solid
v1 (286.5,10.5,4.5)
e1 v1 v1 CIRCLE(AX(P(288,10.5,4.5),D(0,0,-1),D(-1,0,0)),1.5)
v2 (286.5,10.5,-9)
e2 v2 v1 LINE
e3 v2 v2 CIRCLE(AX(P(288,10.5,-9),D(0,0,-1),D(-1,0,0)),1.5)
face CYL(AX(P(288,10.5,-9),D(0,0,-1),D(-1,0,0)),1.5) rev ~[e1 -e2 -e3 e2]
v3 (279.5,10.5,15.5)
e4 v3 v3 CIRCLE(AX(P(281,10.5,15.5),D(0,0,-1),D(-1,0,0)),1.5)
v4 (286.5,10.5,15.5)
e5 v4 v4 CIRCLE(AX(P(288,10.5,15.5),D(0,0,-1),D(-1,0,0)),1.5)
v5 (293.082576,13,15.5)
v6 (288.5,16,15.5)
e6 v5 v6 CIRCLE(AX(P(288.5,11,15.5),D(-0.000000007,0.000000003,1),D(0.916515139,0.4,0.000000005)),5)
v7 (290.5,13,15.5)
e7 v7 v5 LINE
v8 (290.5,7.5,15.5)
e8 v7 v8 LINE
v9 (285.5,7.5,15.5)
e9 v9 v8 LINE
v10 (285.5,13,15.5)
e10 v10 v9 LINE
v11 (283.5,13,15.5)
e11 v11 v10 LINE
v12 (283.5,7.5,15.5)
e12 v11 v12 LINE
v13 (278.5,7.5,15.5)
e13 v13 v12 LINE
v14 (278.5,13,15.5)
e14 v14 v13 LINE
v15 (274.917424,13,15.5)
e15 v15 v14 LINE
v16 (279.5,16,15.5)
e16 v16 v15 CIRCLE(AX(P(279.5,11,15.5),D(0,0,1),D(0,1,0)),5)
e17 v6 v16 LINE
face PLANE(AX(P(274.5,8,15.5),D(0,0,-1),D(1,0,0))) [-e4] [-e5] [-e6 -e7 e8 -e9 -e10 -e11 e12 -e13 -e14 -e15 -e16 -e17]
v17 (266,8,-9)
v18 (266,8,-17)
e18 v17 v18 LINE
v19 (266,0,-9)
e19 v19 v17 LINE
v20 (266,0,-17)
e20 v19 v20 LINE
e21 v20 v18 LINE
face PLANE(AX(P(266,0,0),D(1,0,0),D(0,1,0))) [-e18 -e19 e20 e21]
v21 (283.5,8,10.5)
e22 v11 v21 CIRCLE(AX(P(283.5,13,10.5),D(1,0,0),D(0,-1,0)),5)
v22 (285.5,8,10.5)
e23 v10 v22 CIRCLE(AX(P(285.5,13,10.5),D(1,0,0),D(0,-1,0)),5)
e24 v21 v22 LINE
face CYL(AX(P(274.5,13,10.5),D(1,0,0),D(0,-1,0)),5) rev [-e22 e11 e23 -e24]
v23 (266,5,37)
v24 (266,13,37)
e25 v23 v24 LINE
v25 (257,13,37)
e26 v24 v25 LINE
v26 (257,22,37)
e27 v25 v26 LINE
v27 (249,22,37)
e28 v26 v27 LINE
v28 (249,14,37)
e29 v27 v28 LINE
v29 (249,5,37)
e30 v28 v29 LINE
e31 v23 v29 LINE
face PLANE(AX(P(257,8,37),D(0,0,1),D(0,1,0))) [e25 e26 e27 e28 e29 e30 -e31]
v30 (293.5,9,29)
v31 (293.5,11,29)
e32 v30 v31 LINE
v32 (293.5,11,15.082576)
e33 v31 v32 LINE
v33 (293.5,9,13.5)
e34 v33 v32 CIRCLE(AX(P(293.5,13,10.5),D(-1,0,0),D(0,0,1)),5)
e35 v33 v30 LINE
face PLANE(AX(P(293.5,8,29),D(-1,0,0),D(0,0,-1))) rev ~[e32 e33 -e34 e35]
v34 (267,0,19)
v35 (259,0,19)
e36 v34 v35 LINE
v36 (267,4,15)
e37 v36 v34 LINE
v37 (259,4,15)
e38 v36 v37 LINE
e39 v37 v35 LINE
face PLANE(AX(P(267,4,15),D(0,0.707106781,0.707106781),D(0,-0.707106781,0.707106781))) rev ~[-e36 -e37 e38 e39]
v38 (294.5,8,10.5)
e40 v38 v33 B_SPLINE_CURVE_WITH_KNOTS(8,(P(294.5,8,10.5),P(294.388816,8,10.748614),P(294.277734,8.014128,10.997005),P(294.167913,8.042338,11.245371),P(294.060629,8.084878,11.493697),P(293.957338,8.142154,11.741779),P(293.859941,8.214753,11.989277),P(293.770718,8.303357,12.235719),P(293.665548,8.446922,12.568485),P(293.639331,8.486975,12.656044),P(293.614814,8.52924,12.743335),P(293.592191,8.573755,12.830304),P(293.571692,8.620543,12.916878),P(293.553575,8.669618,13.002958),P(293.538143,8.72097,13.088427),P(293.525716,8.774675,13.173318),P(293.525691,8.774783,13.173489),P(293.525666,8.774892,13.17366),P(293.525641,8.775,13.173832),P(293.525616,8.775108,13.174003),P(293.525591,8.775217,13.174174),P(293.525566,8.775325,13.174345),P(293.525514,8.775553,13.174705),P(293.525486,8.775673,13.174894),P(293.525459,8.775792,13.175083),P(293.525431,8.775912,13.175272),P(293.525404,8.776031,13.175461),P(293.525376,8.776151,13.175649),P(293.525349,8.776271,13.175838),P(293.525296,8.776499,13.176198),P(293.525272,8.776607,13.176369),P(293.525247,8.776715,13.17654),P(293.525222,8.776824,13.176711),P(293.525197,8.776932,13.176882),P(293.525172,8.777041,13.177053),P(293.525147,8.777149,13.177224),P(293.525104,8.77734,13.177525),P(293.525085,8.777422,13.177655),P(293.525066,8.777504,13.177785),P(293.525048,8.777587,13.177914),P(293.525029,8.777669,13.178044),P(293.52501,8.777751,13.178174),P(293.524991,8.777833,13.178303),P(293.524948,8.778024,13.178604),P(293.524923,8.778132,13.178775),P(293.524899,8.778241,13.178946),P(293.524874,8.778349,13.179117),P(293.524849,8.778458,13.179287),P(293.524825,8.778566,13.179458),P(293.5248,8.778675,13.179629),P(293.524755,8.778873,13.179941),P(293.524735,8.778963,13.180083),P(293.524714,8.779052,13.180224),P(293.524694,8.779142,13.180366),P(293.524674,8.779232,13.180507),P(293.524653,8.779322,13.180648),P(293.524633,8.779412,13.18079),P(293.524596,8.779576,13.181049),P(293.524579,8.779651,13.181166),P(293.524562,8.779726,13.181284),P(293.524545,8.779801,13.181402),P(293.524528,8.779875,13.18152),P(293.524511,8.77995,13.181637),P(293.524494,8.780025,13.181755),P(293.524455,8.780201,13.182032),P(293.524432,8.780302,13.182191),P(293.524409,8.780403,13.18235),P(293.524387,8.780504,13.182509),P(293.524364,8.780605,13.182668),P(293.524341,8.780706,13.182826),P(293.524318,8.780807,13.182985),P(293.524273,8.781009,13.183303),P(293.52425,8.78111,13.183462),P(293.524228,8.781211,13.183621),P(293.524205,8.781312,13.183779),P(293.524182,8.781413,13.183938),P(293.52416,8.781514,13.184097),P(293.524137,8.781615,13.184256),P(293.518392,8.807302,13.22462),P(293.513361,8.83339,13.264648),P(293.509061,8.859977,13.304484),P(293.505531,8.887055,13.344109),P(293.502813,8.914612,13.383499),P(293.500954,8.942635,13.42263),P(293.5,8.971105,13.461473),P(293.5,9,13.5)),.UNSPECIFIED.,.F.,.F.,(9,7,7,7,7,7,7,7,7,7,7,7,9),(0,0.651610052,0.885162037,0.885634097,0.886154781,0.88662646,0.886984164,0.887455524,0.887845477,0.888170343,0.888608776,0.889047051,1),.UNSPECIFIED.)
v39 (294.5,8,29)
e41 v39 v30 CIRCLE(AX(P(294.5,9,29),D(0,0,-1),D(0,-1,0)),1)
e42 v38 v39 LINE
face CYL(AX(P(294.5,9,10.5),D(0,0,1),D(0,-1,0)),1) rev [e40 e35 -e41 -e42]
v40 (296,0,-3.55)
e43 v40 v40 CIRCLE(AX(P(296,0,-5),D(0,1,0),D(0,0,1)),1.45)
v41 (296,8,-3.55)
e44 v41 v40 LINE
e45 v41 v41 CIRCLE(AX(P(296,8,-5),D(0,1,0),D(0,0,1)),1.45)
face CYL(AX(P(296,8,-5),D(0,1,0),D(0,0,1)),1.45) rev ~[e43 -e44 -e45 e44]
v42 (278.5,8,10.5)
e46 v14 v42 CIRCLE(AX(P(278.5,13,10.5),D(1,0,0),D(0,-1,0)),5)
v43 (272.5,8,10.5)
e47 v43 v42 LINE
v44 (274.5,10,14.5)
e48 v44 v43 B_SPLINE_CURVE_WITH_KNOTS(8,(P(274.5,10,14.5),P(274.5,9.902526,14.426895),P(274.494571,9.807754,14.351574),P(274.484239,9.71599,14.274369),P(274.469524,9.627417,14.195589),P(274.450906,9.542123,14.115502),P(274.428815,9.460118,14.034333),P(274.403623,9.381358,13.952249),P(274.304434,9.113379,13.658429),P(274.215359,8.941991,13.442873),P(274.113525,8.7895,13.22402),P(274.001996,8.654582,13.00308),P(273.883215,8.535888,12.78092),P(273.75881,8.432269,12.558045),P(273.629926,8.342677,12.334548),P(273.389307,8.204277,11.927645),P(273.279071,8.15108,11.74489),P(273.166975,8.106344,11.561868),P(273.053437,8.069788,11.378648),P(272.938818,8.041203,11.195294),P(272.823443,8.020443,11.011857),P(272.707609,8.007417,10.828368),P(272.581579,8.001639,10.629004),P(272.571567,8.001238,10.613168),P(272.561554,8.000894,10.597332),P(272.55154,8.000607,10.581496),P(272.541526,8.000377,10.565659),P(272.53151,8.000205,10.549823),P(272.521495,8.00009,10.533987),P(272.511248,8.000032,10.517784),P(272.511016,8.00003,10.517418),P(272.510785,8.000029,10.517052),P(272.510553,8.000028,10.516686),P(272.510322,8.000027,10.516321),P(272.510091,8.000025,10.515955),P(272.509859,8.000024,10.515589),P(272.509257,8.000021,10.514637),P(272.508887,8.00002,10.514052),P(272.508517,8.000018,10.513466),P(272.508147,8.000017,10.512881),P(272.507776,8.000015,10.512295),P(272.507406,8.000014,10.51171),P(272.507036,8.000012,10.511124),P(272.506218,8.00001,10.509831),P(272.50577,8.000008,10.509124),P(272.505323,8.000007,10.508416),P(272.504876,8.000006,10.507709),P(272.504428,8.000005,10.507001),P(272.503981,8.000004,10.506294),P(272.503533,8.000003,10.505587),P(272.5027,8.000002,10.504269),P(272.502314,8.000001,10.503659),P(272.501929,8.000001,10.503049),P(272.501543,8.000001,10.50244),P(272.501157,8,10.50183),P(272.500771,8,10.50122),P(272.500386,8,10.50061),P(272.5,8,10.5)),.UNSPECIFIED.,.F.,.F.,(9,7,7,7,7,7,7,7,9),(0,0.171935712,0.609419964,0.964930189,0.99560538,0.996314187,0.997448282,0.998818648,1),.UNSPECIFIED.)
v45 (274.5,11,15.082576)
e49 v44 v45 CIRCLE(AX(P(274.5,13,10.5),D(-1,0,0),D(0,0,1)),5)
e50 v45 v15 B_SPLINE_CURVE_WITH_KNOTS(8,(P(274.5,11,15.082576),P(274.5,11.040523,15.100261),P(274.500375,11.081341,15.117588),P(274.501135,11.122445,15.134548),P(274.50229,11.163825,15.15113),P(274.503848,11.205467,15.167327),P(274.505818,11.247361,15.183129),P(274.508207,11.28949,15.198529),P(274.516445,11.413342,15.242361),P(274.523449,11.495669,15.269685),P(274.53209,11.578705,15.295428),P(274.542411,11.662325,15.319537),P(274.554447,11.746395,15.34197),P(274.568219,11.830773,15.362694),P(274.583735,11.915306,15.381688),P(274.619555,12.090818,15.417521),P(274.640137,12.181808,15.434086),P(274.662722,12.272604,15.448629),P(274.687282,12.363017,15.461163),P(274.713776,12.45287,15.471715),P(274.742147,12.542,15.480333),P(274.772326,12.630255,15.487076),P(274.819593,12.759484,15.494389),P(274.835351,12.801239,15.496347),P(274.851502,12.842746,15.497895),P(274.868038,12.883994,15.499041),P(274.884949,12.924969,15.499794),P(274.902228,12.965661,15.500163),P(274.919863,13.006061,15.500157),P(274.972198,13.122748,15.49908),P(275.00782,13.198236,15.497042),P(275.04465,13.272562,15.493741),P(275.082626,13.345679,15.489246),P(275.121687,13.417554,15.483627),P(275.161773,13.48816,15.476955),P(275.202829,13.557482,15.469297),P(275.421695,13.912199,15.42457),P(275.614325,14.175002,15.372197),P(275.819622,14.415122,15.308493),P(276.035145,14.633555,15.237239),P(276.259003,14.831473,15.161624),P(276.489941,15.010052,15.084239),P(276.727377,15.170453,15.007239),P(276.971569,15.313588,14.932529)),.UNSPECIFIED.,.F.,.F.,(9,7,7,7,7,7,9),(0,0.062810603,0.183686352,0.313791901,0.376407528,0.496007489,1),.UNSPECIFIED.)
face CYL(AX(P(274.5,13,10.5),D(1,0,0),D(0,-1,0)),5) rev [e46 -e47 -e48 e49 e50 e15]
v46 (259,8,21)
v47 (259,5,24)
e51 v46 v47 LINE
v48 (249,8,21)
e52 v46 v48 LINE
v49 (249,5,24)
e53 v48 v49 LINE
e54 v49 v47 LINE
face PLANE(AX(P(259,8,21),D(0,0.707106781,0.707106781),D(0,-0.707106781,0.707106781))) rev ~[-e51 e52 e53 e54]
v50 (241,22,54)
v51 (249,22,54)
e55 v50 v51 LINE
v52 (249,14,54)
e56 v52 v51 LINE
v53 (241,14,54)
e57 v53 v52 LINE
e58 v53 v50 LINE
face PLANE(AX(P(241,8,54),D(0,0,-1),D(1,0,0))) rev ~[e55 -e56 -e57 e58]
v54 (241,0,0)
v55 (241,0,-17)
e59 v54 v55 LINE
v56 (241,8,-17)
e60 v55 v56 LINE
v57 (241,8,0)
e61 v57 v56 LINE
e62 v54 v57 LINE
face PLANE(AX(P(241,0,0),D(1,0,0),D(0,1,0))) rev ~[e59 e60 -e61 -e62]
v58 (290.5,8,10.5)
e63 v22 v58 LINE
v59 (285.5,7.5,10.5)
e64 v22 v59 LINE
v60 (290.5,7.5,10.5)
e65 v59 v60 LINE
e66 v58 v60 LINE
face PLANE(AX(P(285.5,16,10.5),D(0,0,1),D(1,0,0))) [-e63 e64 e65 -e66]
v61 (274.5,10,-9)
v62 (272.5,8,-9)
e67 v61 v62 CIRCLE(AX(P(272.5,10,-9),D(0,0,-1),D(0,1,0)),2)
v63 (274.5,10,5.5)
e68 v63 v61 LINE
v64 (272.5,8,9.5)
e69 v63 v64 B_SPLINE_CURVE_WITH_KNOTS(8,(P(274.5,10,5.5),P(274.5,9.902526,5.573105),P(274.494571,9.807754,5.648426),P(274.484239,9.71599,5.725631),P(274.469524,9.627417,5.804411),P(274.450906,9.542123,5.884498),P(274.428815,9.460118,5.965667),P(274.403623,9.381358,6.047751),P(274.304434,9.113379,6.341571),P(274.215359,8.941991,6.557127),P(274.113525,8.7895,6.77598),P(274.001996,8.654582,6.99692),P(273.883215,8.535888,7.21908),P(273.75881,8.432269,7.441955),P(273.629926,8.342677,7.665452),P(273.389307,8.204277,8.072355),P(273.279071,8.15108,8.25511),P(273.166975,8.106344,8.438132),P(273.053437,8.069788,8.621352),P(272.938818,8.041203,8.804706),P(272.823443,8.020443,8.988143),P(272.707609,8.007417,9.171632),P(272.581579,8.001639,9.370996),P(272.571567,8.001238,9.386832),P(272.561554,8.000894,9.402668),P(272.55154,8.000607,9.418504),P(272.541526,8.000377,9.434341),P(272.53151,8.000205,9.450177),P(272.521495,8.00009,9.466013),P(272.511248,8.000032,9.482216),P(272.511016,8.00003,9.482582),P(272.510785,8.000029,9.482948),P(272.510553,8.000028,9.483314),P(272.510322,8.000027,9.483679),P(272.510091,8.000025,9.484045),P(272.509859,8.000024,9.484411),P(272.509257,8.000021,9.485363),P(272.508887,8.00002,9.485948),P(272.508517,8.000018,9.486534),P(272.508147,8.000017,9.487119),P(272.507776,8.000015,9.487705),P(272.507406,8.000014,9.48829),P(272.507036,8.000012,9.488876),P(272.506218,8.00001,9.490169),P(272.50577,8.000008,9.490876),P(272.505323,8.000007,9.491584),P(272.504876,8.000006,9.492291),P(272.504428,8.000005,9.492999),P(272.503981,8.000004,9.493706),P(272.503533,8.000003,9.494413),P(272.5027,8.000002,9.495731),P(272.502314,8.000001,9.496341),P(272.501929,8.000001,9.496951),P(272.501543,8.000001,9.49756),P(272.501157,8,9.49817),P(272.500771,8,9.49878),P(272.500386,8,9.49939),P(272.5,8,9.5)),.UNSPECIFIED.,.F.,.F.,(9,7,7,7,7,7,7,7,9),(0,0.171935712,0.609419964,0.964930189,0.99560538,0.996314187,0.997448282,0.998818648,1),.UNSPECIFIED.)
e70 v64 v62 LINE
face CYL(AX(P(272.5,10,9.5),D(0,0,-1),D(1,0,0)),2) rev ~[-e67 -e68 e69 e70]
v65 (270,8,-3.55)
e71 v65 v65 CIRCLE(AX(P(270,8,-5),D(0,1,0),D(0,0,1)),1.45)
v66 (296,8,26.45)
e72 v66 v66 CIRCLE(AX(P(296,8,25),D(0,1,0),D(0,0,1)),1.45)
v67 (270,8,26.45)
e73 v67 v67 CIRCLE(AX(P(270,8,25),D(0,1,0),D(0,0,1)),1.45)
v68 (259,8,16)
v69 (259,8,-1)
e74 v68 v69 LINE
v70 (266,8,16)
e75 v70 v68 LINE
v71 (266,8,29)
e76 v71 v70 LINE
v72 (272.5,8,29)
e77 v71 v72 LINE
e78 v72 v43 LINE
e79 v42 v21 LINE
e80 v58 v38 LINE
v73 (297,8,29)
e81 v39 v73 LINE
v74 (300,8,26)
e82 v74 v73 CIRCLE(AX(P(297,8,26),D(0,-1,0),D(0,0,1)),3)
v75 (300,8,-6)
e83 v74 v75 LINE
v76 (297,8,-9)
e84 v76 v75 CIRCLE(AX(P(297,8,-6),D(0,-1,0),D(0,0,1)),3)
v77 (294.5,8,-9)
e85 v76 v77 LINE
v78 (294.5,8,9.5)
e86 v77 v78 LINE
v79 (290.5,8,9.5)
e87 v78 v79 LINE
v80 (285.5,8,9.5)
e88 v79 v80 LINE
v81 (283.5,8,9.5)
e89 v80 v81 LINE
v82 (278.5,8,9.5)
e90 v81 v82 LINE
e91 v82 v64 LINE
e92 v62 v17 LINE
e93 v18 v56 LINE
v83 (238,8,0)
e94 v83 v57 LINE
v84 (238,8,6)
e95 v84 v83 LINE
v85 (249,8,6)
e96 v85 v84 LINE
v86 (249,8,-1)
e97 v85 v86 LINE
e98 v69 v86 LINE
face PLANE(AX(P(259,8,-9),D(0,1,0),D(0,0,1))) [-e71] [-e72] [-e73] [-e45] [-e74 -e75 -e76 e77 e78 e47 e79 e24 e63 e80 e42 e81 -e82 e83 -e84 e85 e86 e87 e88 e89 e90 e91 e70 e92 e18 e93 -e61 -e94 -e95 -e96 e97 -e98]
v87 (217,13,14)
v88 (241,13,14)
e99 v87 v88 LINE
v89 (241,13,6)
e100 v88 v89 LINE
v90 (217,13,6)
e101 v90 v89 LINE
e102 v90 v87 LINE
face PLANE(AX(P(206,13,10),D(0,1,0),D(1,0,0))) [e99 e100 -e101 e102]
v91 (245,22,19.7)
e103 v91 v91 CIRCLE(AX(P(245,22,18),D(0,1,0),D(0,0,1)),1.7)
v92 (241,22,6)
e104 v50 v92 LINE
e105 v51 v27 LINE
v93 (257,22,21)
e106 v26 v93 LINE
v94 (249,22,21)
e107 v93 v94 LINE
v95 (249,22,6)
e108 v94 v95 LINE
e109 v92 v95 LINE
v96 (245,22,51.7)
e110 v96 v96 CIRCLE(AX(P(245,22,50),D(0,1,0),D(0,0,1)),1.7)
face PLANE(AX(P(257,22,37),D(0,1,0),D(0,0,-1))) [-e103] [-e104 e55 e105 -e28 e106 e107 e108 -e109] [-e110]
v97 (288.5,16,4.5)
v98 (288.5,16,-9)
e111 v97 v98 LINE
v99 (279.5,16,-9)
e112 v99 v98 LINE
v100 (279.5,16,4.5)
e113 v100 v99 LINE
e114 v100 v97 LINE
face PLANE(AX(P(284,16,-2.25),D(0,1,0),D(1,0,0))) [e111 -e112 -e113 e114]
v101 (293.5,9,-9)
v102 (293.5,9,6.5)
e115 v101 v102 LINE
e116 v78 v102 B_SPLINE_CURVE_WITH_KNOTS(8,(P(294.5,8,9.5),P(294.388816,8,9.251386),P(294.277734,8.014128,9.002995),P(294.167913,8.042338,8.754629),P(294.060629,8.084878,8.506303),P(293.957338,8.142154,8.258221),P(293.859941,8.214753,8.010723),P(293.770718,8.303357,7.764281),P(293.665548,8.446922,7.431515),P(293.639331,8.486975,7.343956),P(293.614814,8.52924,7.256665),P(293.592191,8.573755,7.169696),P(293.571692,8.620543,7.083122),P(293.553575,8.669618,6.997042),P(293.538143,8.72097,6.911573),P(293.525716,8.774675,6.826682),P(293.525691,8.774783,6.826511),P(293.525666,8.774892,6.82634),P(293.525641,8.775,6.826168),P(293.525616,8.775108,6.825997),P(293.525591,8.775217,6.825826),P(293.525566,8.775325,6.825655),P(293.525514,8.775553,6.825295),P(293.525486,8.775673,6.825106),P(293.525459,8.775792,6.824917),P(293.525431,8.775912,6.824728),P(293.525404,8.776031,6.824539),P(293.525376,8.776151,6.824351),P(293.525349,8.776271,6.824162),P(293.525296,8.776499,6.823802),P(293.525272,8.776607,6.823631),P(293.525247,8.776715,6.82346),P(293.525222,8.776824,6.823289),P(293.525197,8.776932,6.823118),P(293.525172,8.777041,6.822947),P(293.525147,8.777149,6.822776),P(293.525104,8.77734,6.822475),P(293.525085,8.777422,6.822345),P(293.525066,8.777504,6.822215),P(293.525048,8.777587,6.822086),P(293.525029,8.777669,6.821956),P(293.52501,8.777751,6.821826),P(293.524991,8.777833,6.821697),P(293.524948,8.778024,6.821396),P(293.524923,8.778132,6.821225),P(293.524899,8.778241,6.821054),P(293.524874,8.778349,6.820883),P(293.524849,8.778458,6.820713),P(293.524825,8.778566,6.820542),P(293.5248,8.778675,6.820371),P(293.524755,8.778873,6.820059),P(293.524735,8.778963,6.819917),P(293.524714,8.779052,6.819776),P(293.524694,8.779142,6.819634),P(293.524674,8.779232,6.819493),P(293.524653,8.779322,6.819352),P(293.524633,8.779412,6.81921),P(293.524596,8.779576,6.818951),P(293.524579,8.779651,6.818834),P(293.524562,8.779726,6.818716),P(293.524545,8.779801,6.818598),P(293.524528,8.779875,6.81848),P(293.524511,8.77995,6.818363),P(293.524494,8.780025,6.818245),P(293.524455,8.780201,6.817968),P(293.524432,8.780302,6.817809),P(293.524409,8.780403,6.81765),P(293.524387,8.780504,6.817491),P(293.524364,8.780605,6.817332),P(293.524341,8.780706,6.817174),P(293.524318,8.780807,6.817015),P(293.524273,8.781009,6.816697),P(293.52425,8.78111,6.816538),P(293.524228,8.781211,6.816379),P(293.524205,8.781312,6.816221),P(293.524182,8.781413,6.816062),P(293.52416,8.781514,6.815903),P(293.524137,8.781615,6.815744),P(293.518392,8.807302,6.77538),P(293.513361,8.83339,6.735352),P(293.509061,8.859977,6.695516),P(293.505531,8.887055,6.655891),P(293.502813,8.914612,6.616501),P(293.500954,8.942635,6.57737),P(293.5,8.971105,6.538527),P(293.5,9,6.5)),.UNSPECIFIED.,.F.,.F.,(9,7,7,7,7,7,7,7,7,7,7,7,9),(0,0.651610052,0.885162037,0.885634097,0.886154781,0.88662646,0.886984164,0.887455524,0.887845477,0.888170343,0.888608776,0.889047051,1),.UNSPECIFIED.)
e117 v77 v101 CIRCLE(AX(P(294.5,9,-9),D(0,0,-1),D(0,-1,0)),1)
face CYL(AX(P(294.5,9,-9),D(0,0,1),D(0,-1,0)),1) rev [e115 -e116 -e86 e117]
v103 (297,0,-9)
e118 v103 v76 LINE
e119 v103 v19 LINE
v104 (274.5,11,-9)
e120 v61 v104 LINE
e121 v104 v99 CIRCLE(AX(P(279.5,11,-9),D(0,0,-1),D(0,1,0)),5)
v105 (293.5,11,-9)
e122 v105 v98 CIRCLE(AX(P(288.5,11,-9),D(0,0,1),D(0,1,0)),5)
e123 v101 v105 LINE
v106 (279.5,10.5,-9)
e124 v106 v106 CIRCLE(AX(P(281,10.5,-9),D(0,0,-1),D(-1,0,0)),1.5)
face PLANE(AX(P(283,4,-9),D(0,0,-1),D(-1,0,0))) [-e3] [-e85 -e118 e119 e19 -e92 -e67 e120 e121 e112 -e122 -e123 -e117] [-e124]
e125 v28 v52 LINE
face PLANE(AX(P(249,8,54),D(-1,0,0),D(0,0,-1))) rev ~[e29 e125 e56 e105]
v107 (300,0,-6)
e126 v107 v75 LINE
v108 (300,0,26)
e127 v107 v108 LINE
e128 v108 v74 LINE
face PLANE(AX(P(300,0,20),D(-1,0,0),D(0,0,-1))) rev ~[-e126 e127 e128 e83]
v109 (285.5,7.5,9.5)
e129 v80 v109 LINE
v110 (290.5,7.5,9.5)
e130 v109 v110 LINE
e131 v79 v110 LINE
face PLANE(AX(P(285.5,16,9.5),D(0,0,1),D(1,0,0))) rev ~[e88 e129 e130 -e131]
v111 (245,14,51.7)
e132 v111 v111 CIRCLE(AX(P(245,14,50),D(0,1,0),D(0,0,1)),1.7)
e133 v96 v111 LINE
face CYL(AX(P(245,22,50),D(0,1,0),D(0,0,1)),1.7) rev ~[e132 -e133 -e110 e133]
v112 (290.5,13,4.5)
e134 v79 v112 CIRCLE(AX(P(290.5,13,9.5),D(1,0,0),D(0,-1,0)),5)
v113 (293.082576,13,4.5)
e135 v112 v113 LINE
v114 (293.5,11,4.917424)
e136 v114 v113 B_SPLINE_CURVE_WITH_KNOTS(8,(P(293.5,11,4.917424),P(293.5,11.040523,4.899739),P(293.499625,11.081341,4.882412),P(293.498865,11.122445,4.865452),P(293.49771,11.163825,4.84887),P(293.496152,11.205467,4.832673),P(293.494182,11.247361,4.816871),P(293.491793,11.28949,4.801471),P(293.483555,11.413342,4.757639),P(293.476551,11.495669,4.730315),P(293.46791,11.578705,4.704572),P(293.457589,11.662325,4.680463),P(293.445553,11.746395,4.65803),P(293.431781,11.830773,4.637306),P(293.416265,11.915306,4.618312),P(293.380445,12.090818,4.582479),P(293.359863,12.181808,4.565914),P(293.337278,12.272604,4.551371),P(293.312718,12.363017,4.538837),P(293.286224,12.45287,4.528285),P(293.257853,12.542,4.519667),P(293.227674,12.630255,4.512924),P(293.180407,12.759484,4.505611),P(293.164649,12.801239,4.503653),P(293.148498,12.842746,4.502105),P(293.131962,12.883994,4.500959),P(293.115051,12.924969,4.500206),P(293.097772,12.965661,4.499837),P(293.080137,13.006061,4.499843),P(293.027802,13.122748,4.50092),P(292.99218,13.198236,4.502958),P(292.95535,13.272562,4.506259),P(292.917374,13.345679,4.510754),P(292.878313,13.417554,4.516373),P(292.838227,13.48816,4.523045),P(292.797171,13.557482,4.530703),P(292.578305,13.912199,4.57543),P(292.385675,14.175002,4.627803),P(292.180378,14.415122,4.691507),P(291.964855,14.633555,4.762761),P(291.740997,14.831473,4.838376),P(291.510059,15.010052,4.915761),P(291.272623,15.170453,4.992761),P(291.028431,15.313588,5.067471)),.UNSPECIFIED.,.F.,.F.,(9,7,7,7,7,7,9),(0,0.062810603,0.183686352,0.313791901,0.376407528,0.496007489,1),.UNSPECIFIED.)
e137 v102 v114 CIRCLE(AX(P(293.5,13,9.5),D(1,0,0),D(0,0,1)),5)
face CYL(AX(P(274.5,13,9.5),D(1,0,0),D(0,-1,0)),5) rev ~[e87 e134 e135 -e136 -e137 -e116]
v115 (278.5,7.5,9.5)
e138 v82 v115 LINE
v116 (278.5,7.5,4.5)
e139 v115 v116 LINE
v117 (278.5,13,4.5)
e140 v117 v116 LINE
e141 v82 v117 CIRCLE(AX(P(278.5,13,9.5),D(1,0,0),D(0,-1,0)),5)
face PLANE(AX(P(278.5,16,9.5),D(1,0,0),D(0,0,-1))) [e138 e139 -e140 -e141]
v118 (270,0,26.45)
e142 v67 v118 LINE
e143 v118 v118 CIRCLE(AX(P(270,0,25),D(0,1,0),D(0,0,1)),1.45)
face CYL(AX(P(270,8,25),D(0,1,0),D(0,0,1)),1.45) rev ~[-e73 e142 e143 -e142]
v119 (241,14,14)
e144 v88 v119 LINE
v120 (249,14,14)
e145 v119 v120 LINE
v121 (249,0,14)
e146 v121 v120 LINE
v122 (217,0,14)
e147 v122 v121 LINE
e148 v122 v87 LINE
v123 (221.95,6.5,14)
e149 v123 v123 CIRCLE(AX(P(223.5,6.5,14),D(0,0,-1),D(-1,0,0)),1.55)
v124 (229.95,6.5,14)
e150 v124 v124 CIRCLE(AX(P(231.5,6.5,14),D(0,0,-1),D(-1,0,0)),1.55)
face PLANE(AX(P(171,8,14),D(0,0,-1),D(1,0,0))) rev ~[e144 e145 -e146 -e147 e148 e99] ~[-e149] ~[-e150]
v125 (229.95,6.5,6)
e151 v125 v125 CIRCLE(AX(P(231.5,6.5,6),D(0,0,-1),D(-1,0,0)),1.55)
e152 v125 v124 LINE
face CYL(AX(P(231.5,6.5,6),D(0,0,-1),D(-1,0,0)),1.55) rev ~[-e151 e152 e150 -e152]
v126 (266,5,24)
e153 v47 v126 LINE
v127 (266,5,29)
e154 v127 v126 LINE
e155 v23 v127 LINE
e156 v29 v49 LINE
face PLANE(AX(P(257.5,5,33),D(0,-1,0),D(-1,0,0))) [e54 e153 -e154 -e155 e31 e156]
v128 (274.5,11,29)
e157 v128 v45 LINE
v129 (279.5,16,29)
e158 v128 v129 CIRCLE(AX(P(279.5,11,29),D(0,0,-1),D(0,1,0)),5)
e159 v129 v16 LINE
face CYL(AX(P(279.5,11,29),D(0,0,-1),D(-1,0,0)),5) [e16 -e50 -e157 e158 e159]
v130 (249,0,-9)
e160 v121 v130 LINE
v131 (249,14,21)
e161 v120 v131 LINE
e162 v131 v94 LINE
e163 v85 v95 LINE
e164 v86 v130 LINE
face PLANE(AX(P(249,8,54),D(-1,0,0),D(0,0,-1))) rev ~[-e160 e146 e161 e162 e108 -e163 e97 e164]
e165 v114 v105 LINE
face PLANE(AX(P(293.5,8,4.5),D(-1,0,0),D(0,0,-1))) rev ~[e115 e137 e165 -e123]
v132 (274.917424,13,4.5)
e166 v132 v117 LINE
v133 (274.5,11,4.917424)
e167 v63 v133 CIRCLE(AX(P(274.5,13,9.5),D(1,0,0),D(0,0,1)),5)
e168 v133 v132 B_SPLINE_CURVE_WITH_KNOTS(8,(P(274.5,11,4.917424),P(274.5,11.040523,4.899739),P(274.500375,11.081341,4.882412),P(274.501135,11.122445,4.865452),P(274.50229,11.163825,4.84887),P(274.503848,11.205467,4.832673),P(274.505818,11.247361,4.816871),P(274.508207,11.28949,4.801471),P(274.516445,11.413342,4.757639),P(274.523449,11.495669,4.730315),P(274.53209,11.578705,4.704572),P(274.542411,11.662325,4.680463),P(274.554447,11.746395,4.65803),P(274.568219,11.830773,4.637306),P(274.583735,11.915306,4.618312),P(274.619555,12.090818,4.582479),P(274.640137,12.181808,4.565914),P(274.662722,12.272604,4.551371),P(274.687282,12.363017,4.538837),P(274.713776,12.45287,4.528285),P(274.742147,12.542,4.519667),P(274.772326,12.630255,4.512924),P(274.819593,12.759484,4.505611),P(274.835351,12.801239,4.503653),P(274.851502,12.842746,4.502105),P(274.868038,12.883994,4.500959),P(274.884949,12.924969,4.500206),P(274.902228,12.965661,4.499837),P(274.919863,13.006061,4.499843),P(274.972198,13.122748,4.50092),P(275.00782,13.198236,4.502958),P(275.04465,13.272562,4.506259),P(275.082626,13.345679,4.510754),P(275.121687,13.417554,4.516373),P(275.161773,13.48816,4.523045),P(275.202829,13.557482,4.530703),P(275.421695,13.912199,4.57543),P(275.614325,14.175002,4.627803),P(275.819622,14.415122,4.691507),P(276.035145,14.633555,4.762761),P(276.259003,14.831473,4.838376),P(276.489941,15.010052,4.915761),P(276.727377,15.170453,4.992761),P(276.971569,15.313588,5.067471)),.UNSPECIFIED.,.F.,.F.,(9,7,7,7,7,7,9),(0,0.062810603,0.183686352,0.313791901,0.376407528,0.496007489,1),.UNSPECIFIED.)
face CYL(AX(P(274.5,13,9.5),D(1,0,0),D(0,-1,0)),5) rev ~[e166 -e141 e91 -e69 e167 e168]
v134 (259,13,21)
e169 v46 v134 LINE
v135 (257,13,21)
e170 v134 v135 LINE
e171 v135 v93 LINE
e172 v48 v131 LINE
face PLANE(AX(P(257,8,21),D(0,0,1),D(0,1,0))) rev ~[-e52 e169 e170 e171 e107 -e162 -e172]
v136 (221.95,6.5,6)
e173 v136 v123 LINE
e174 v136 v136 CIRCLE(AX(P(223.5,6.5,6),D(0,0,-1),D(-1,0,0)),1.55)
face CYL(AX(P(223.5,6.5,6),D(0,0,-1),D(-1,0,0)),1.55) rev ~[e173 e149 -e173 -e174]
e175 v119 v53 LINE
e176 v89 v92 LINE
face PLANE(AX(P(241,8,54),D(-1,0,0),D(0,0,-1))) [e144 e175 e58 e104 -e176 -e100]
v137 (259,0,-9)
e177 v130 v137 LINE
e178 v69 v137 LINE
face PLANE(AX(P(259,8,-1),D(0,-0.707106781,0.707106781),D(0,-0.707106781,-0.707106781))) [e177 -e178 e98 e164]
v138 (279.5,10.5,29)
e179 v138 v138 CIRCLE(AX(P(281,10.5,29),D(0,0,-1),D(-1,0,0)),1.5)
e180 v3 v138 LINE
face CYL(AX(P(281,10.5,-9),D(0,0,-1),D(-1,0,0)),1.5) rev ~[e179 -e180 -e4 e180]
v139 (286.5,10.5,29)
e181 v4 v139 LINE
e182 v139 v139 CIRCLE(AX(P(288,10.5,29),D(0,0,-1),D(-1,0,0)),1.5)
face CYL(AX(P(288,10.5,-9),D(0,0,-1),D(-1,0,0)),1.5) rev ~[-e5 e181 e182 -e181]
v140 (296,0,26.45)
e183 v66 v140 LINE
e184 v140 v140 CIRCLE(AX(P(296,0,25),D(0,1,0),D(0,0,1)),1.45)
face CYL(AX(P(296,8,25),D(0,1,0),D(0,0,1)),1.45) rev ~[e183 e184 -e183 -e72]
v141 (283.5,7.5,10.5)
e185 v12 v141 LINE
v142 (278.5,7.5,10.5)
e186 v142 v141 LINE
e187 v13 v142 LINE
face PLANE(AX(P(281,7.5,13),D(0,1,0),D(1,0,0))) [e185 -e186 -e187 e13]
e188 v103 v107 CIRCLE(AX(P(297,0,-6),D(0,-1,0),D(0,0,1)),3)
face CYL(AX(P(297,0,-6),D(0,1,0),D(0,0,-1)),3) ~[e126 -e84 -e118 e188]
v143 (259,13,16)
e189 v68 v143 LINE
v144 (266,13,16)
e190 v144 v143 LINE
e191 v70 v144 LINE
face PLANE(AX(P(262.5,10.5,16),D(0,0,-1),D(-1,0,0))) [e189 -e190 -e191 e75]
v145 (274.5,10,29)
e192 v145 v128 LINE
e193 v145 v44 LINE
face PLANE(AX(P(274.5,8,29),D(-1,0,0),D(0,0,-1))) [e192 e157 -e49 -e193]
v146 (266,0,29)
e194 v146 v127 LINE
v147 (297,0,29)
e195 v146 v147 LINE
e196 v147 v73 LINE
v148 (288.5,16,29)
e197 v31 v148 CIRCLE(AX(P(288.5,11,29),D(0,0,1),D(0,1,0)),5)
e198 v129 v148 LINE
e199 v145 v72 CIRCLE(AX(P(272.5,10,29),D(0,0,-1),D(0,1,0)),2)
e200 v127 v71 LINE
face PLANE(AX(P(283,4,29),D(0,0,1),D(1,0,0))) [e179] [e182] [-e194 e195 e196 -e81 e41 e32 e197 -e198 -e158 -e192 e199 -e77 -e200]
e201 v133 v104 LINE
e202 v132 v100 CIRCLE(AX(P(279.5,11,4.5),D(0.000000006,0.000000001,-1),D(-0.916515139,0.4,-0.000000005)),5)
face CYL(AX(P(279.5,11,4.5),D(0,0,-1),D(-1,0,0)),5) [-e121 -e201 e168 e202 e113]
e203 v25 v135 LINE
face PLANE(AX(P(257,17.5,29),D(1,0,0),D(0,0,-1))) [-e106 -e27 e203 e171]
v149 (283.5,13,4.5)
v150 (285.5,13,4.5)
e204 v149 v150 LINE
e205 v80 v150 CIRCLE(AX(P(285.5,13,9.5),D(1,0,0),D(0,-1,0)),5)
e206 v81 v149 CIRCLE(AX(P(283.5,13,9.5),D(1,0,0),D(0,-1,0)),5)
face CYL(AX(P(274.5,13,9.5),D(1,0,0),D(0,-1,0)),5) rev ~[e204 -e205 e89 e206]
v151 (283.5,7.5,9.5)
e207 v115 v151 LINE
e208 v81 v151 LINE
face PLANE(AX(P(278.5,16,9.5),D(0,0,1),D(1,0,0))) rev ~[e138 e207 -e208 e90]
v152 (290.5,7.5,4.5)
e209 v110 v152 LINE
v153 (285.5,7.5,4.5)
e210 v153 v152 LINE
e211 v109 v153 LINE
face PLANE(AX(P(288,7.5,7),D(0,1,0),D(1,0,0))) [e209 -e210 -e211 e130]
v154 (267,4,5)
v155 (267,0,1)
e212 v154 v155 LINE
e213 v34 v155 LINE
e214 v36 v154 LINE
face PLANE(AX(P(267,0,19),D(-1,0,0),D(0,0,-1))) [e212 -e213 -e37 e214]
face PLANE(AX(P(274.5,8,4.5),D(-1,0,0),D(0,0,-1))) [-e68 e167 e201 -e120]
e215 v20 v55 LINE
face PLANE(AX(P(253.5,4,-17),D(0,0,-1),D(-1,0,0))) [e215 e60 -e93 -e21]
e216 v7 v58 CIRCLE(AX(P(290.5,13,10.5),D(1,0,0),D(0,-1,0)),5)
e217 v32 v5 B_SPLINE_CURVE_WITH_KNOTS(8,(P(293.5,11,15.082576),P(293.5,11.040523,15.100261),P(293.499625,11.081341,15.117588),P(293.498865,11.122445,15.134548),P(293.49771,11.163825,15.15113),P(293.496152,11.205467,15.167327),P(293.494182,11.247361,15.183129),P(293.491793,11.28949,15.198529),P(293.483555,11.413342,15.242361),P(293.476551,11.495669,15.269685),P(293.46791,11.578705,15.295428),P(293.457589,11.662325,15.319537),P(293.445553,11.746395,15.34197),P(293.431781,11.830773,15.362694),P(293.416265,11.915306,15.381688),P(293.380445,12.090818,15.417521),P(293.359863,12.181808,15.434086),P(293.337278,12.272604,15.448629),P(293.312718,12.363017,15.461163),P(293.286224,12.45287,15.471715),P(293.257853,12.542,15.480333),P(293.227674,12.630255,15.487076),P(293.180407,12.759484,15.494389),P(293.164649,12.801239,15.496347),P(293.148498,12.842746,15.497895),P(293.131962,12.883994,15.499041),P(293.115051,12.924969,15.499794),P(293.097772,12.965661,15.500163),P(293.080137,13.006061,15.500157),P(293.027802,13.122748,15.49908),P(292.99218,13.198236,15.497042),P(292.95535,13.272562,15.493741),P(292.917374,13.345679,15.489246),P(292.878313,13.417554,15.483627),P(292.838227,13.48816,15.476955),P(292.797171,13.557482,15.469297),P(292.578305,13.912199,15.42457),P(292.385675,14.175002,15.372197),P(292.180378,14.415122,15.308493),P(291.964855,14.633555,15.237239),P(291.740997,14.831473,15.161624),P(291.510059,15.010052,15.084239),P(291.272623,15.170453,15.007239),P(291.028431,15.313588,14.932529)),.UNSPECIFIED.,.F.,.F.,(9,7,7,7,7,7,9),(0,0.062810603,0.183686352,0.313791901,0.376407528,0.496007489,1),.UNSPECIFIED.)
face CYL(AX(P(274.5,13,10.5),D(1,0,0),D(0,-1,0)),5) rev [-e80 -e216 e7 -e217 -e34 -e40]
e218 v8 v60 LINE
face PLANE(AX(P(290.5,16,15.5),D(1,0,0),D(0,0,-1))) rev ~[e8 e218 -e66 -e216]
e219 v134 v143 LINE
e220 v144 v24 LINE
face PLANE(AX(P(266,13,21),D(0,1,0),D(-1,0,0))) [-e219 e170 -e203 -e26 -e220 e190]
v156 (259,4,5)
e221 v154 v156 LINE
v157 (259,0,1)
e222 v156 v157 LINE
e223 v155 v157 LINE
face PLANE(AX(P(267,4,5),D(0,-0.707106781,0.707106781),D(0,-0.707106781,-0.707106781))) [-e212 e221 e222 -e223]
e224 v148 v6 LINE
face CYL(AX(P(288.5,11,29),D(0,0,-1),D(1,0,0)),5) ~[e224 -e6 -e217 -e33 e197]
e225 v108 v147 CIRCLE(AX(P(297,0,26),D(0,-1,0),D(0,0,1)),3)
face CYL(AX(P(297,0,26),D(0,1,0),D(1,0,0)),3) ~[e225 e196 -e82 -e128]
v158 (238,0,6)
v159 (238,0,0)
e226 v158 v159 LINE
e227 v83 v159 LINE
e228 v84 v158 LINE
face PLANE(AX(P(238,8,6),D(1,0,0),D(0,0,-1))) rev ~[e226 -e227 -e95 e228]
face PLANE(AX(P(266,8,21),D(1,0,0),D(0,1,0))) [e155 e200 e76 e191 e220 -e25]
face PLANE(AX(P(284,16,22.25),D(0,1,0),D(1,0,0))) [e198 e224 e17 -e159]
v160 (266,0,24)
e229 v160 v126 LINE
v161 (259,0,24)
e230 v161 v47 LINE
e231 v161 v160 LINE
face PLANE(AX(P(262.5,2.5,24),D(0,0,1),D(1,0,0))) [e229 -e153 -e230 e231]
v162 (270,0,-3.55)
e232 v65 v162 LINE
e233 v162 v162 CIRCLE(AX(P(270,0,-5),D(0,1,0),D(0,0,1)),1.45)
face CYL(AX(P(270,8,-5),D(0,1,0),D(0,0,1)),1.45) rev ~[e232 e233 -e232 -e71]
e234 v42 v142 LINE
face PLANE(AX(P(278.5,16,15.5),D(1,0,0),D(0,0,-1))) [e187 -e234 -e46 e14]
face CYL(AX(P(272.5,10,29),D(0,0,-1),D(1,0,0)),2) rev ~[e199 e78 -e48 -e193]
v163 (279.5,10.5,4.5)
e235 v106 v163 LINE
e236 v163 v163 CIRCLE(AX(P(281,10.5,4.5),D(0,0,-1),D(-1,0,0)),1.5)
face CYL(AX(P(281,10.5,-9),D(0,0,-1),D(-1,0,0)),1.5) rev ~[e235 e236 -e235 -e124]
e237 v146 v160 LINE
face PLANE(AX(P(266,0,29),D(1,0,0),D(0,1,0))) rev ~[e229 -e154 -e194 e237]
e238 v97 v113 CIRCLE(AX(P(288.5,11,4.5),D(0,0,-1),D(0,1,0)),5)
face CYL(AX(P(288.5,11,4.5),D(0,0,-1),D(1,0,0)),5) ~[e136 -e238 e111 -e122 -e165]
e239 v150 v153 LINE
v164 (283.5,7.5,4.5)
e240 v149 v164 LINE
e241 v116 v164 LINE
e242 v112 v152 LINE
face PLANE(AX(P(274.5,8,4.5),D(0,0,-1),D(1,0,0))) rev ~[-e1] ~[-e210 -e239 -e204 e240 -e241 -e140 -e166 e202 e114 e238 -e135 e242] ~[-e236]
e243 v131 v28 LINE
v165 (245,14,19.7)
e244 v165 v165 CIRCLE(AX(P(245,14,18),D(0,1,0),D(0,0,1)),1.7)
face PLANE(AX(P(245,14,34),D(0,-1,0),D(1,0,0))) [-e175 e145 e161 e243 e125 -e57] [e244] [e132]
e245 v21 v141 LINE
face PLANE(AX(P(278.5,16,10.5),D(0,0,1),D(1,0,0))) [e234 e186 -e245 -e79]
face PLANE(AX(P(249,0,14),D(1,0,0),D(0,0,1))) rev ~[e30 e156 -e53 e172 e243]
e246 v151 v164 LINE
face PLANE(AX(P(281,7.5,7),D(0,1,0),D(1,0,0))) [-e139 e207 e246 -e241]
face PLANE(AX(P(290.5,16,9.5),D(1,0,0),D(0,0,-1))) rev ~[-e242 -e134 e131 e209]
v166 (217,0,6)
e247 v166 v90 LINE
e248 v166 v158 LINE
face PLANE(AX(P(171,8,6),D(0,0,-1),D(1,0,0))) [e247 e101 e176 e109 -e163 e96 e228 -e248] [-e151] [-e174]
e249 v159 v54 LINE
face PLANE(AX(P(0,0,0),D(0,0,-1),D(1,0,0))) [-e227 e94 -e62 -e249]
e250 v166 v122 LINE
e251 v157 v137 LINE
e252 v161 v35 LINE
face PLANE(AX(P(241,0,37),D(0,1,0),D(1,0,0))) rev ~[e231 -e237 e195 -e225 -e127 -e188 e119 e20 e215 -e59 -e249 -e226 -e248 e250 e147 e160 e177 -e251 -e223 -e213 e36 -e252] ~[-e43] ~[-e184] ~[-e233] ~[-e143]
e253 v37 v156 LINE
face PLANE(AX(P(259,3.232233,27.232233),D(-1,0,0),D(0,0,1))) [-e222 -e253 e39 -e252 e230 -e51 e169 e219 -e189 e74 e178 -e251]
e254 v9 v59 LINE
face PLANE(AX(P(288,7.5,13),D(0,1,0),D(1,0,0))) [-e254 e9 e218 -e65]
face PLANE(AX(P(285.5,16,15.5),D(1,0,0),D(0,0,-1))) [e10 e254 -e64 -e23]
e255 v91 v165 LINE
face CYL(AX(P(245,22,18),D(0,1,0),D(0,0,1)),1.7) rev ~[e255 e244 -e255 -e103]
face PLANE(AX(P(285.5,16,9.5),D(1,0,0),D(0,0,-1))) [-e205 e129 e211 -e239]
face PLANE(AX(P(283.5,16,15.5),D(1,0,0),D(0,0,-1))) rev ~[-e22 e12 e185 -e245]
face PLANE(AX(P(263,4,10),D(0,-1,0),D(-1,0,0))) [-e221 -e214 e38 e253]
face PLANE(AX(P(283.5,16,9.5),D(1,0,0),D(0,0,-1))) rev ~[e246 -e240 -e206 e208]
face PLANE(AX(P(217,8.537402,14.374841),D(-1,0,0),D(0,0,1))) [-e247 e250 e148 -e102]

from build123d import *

# Parameters (mm, degrees)
SKETCH1_W                 = 300
SKETCH1_H                 = 20
BOSS_EXTRUDE1_DEPTH       = 8
SKETCH2_W                 = 34
SKETCH2_H                 = 8
BOSS_EXTRUDE2_DEPTH       = 9
SKETCH3_W                 = 34
SKETCH3_H                 = 8
BOSS_EXTRUDE3_DEPTH       = 9
SKETCH4_R                 = 1.45
CUT_EXTRUDE1_DEPTH        = 302.504560496
SKETCH5_W                 = 25
SKETCH5_H                 = 8
BOSS_EXTRUDE4_DEPTH       = 17
SKETCH6_W                 = 25
SKETCH6_H                 = 8
BOSS_EXTRUDE5_DEPTH       = 17
SKETCH12_W                = 8
SKETCH12_H                = 8
BOSS_EXTRUDE7_DEPTH       = 17
SKETCH18_W                = 20
SKETCH18_H                = 13
BOSS_EXTRUDE10_DEPTH      = 12
SKETCH19_R                = 1.6
CUT_EXTRUDE9_DEPTH        = 20
SKETCH20_W                = 20
SKETCH20_H                = 13
BOSS_EXTRUDE11_DEPTH      = 12
SKETCH21_R                = 1.6
CUT_EXTRUDE10_DEPTH       = 20
SKETCH22_W                = 10
SKETCH22_H                = 38
CUT_EXTRUDE11_DEPTH       = 306.0983448
SKETCH23_W                = 8
SKETCH23_H                = 18
CUT_EXTRUDE12_DEPTH       = 4
BOSS_EXTRUDE12_DEPTH      = 10
BOSS_EXTRUDE13_DEPTH      = 8
SKETCH26_W                = 8
SKETCH26_H                = 48
BOSS_EXTRUDE14_DEPTH      = 14
SKETCH27_W                = 8
SKETCH27_H                = 16
BOSS_EXTRUDE15_DEPTH      = 14
SKETCH28_W                = 8
SKETCH28_H                = 40
CUT_EXTRUDE13_DEPTH       = 14
SKETCH30_W                = 16
SKETCH30_H                = 14
BOSS_EXTRUDE16_DEPTH      = 9
SKETCH31_W                = 17
SKETCH31_H                = 8
CUT_EXTRUDE14_DEPTH       = 5
SKETCH32_W                = 16
SKETCH32_H                = 9
CUT_EXTRUDE15_DEPTH       = 9
CUT_EXTRUDE16_DEPTH       = 10
SKETCH34_W                = 7
SKETCH34_H                = 5
CUT_EXTRUDE17_DEPTH       = 5
SKETCH35_W                = 7
SKETCH35_H                = 5
BOSS_EXTRUDE17_DEPTH      = 5
SKETCH36_R                = 1.7
CUT_EXTRUDE18_DEPTH       = 307.014705529
SKETCH37_W                = 70
SKETCH37_H                = 8
BOSS_EXTRUDE18_DEPTH      = 5
SKETCH39_W                = 66
SKETCH39_H                = 6
CUT_EXTRUDE19_DEPTH       = 306.14258962
SKETCH40_W                = 20
SKETCH40_H                = 12
BOSS_EXTRUDE19_DEPTH      = 10
BOSS_EXTRUDE20_DEPTH      = 5
BOSS_EXTRUDE20_DEPTH_BACK = 5
SKETCH41_W                = 28
SKETCH41_H                = 12
SKETCH42_R                = 1.5
CUT_EXTRUDE20_DEPTH       = 15
SKETCH43_W                = 20
SKETCH43_H                = 12
BOSS_EXTRUDE21_DEPTH      = 10
BOSS_EXTRUDE22_DEPTH      = 5
BOSS_EXTRUDE22_DEPTH_BACK = 5
SKETCH44_W                = 28
SKETCH44_H                = 12
SKETCH45_R                = 1.5
CUT_EXTRUDE21_DEPTH       = 15
SKETCH49_R                = 1.45
CUT_EXTRUDE23_DEPTH       = 306.190104689
SKETCH50_W                = 99.073016947
SKETCH50_H                = 52.119345881
CUT_EXTRUDE24_DEPTH       = 220
SKETCH51_W                = 21
SKETCH51_H                = 6
CUT_EXTRUDE25_DEPTH       = 306.14258962
SKETCH52_R                = 1.55
CUT_EXTRUDE26_DEPTH       = 305.611227633
FILLET5_R                 = 3
SKETCH54_W                = 19
SKETCH54_H                = 13.5
BOSS_EXTRUDE26_DEPTH      = 8
FILLET6_R                 = 5
SKETCH55_R                = 1.5
CUT_EXTRUDE27_DEPTH       = 308.332067966
FILLET7_R                 = 5
FILLET8_R                 = 1
FILLET9_R                 = 2
SKETCH56_W                = 5
SKETCH56_H                = 5
CUT_EXTRUDE28_DEPTH       = 8.5


with BuildPart() as part:
    # Sketch1 → Boss-Extrude1 (new body)
    with BuildSketch(Plane(origin=(0, 0, 0), x_dir=(1, 0, 0), z_dir=(0, 1, 0))):
        with Locations((150, -10)):
            Rectangle(SKETCH1_W, SKETCH1_H)
    extrude(amount=BOSS_EXTRUDE1_DEPTH)

    # Sketch2 → Boss-Extrude2 (add)
    with BuildSketch(Plane.XY.offset(20)):
        with Locations((17, 4)):
            Rectangle(SKETCH2_W, SKETCH2_H)
        with Locations((283, 4)):
            Rectangle(SKETCH2_W, SKETCH2_H)
    extrude(amount=BOSS_EXTRUDE2_DEPTH)

    # Sketch3 → Boss-Extrude3 (add)
    with BuildSketch(Plane(origin=(0, 0, 0), x_dir=(-1, 0, 0), z_dir=(0, 0, -1))):
        with Locations((-17, 4)):
            Rectangle(SKETCH3_W, SKETCH3_H)
        with Locations((-283, 4)):
            Rectangle(SKETCH3_W, SKETCH3_H)
    extrude(amount=BOSS_EXTRUDE3_DEPTH)

    # Sketch4 → Cut-Extrude1 (cut, through all)
    with BuildSketch(Plane(origin=(0, 8, 0), x_dir=(1, 0, 0), z_dir=(0, 1, 0))):
        with Locations(Location((4, 5, 0), (0, 0, 270))):
            Circle(SKETCH4_R)
        with Locations(Location((30, 5, 0), (0, 0, 270))):
            Circle(SKETCH4_R)
        with Locations(Location((30, -25, 0), (0, 0, 270))):
            Circle(SKETCH4_R)
        with Locations(Location((4, -25, 0), (0, 0, 270))):
            Circle(SKETCH4_R)
        with Locations(Location((296, -25, 0), (0, 0, 270))):
            Circle(SKETCH4_R)
        with Locations(Location((296, 5, 0), (0, 0, 270))):
            Circle(SKETCH4_R)
        with Locations(Location((270, -25, 0), (0, 0, 270))):
            Circle(SKETCH4_R)
        with Locations(Location((270, 5, 0), (0, 0, 270))):
            Circle(SKETCH4_R)
    extrude(amount=-CUT_EXTRUDE1_DEPTH, mode=Mode.SUBTRACT)

    # Sketch5 → Boss-Extrude4 (add)
    with BuildSketch(Plane.XY.offset(20)):
        with Locations((253.5, 4)):
            Rectangle(SKETCH5_W, SKETCH5_H)
    extrude(amount=BOSS_EXTRUDE4_DEPTH)

    # Sketch6 → Boss-Extrude5 (add)
    with BuildSketch(Plane(origin=(0, 0, 0), x_dir=(-1, 0, 0), z_dir=(0, 0, -1))):
        with Locations((-253.5, 4)):
            Rectangle(SKETCH6_W, SKETCH6_H)
    extrude(amount=BOSS_EXTRUDE5_DEPTH)

    # Sketch12 → Boss-Extrude7 (add)
    with BuildSketch(Plane.XY.offset(37)):
        with Locations((245, 4)):
            Rectangle(SKETCH12_W, SKETCH12_H)
    extrude(amount=BOSS_EXTRUDE7_DEPTH)

    # Sketch18 → Boss-Extrude10 (add)
    with BuildSketch(Plane(origin=(0, 0, -9), x_dir=(-1, 0, 0), z_dir=(0, 0, -1))):
        with Locations((-15, 1.5)):
            Rectangle(SKETCH18_W, SKETCH18_H)
    extrude(amount=BOSS_EXTRUDE10_DEPTH)

    # Sketch19 → Cut-Extrude9 (cut)
    with BuildSketch(Plane.ZY.offset(-5)):
        with Locations((-15, 0)):
            Circle(SKETCH19_R)
    extrude(amount=-CUT_EXTRUDE9_DEPTH, mode=Mode.SUBTRACT)

    # Sketch20 → Boss-Extrude11 (add)
    with BuildSketch(Plane.XY.offset(29)):
        with Locations((15, 1.5)):
            Rectangle(SKETCH20_W, SKETCH20_H)
    extrude(amount=BOSS_EXTRUDE11_DEPTH)

    # Sketch21 → Cut-Extrude10 (cut)
    with BuildSketch(Plane.ZY.offset(-5)):
        with Locations((35, 0)):
            Circle(SKETCH21_R)
    extrude(amount=-CUT_EXTRUDE10_DEPTH, mode=Mode.SUBTRACT)

    # Sketch22 → Cut-Extrude11 (cut, through all)
    with BuildSketch(Plane(origin=(0, 8, 0), x_dir=(1, 0, 0), z_dir=(0, 1, 0))):
        with Locations((254, -10)):
            Rectangle(SKETCH22_W, SKETCH22_H)
    extrude(amount=-CUT_EXTRUDE11_DEPTH, mode=Mode.SUBTRACT)

    # Sketch23 → Cut-Extrude12 (cut)
    with BuildSketch(Plane(origin=(0, 0, 0), x_dir=(-1, 0, 0), z_dir=(0, -1, 0))):
        with Locations((-263, -10)):
            Rectangle(SKETCH23_W, SKETCH23_H)
    extrude(amount=-CUT_EXTRUDE12_DEPTH, mode=Mode.SUBTRACT)

    # Sketch24 → Boss-Extrude12 (add)
    with BuildSketch(Plane.ZY.offset(-259)):
        Polygon((-9, 0), (-9, 8), (-1, 8), align=None)
        Polygon((29, 0), (29, 8), (21, 8), align=None)
    extrude(amount=BOSS_EXTRUDE12_DEPTH)

    # Sketch25 → Boss-Extrude13 (add)
    with BuildSketch(Plane.ZY.offset(-267)):
        Polygon((19, 0), (19, 4), (15, 4), align=None)
        Polygon((1, 4), (5, 4), (1, 0), align=None)
    extrude(amount=BOSS_EXTRUDE13_DEPTH)

    # Sketch26 → Boss-Extrude14 (add)
    with BuildSketch(Plane(origin=(0, 8, 0), x_dir=(1, 0, 0), z_dir=(0, 1, 0))):
        with Locations((245, -30)):
            Rectangle(SKETCH26_W, SKETCH26_H)
    extrude(amount=BOSS_EXTRUDE14_DEPTH)

    # Sketch27 → Boss-Extrude15 (add)
    with BuildSketch(Plane(origin=(0, 8, 0), x_dir=(1, 0, 0), z_dir=(0, 1, 0))):
        with Locations((253, -29)):
            Rectangle(SKETCH27_W, SKETCH27_H)
    extrude(amount=BOSS_EXTRUDE15_DEPTH)

    # Sketch28 → Cut-Extrude13 (cut)
    with BuildSketch(Plane.XZ):
        with Locations((245, 34)):
            Rectangle(SKETCH28_W, SKETCH28_H)
    extrude(amount=-CUT_EXTRUDE13_DEPTH, mode=Mode.SUBTRACT)

    # Sketch30 → Boss-Extrude16 (add)
    with BuildSketch(Plane(origin=(257, 0, 0), x_dir=(0, 0, -1), z_dir=(1, 0, 0))):
        with Locations((-29, 15)):
            Rectangle(SKETCH30_W, SKETCH30_H)
    extrude(amount=BOSS_EXTRUDE16_DEPTH)

    # Sketch31 → Cut-Extrude14 (cut)
    with BuildSketch(Plane(origin=(0, 0, 0), x_dir=(-1, 0, 0), z_dir=(0, -1, 0))):
        with Locations((-257.5, -33)):
            Rectangle(SKETCH31_W, SKETCH31_H)
    extrude(amount=-CUT_EXTRUDE14_DEPTH, mode=Mode.SUBTRACT)

    # Sketch32 → Cut-Extrude15 (cut)
    with BuildSketch(Plane(origin=(266, 0, 0), x_dir=(0, 0, -1), z_dir=(1, 0, 0))):
        with Locations((-29, 17.5)):
            Rectangle(SKETCH32_W, SKETCH32_H)
    extrude(amount=-CUT_EXTRUDE15_DEPTH, mode=Mode.SUBTRACT)

    # Sketch33 → Cut-Extrude16 (cut)
    with BuildSketch(Plane.ZY.offset(-249)):
        Polygon((29, 5), (24, 5), (29, 0), align=None)
    extrude(amount=-CUT_EXTRUDE16_DEPTH, mode=Mode.SUBTRACT)

    # Sketch34 → Cut-Extrude17 (cut)
    with BuildSketch(Plane.XY.offset(29)):
        with Locations((262.5, 2.5)):
            Rectangle(SKETCH34_W, SKETCH34_H)
    extrude(amount=-CUT_EXTRUDE17_DEPTH, mode=Mode.SUBTRACT)

    # Sketch35 → Boss-Extrude17 (add)
    with BuildSketch(Plane(origin=(0, 0, 21), x_dir=(-1, 0, 0), z_dir=(0, 0, -1))):
        with Locations((-262.5, 10.5)):
            Rectangle(SKETCH35_W, SKETCH35_H)
    extrude(amount=BOSS_EXTRUDE17_DEPTH)

    # Sketch36 → Cut-Extrude18 (cut, through all)
    with BuildSketch(Plane(origin=(0, 22, 0), x_dir=(1, 0, 0), z_dir=(0, 1, 0))):
        with Locations(Location((245, -50, 0), (0, 0, 270))):
            Circle(SKETCH36_R)
        with Locations(Location((245, -18, 0), (0, 0, 270))):
            Circle(SKETCH36_R)
    extrude(amount=-CUT_EXTRUDE18_DEPTH, mode=Mode.SUBTRACT)

    # Sketch37 → Boss-Extrude18 (add)
    with BuildSketch(Plane(origin=(0, 8, 0), x_dir=(1, 0, 0), z_dir=(0, 1, 0))):
        with Locations((206, -10)):
            Rectangle(SKETCH37_W, SKETCH37_H)
    extrude(amount=BOSS_EXTRUDE18_DEPTH)

    # Sketch39 → Cut-Extrude19 (cut, through all)
    with BuildSketch(Plane(origin=(0, 8, 0), x_dir=(1, 0, 0), z_dir=(0, 1, 0))):
        with Locations((208, -17)):
            Rectangle(SKETCH39_W, SKETCH39_H)
    extrude(amount=-CUT_EXTRUDE19_DEPTH, mode=Mode.SUBTRACT)

    # Sketch40 → Boss-Extrude19 (add)
    with BuildSketch(Plane(origin=(0, 8, 0), x_dir=(1, 0, 0), z_dir=(0, 1, 0))):
        with Locations((15, 15)):
            Rectangle(SKETCH40_W, SKETCH40_H)
    extrude(amount=BOSS_EXTRUDE19_DEPTH)

    # Sketch41 → Boss-Extrude20 (add, two sides: drawn at the far end of the back side and taken through both)
    with BuildSketch(Plane(origin=(0, 18, 0), x_dir=(1, 0, 0), z_dir=(0, 1, 0)).offset(-BOSS_EXTRUDE20_DEPTH_BACK)):
        with Locations((11, 15)):
            Rectangle(SKETCH41_W, SKETCH41_H)
    extrude(amount=BOSS_EXTRUDE20_DEPTH + BOSS_EXTRUDE20_DEPTH_BACK)

    # Sketch42 → Cut-Extrude20 (cut)
    with BuildSketch(Plane.ZY.offset(3)):
        with Locations((-14, 18)):
            Circle(SKETCH42_R)
    extrude(amount=-CUT_EXTRUDE20_DEPTH, mode=Mode.SUBTRACT)

    # Sketch43 → Boss-Extrude21 (add)
    with BuildSketch(Plane(origin=(0, 8, 0), x_dir=(1, 0, 0), z_dir=(0, 1, 0))):
        with Locations((15, -35)):
            Rectangle(SKETCH43_W, SKETCH43_H)
    extrude(amount=BOSS_EXTRUDE21_DEPTH)

    # Sketch44 → Boss-Extrude22 (add, two sides: drawn at the far end of the back side and taken through both)
    with BuildSketch(Plane(origin=(0, 18, 0), x_dir=(1, 0, 0), z_dir=(0, 1, 0)).offset(-BOSS_EXTRUDE22_DEPTH_BACK)):
        with Locations((11, -35)):
            Rectangle(SKETCH44_W, SKETCH44_H)
    extrude(amount=BOSS_EXTRUDE22_DEPTH + BOSS_EXTRUDE22_DEPTH_BACK)

    # Sketch45 → Cut-Extrude21 (cut)
    with BuildSketch(Plane.ZY.offset(3)):
        with Locations((36, 18)):
            Circle(SKETCH45_R)
    extrude(amount=-CUT_EXTRUDE21_DEPTH, mode=Mode.SUBTRACT)

    # Sketch49 → Cut-Extrude23 (cut, through all)
    with BuildSketch(Plane(origin=(0, 8, 0), x_dir=(1, 0, 0), z_dir=(0, 1, 0))):
        with Locations(Location((78, -8, 0), (0, 0, 270))):
            Circle(SKETCH49_R)
        with Locations(Location((78, -12, 0), (0, 0, 270))):
            Circle(SKETCH49_R)
    extrude(amount=-CUT_EXTRUDE23_DEPTH, mode=Mode.SUBTRACT)

    # Sketch50 → Cut-Extrude24 (cut)
    with BuildSketch(Plane.ZY.offset(3)):
        with Locations((14.374840952, 8.537402255)):
            Rectangle(SKETCH50_W, SKETCH50_H)
    extrude(amount=-CUT_EXTRUDE24_DEPTH, mode=Mode.SUBTRACT)

    # Sketch51 → Cut-Extrude25 (cut, through all)
    with BuildSketch(Plane(origin=(0, 8, 0), x_dir=(1, 0, 0), z_dir=(0, 1, 0))):
        with Locations((227.5, -3)):
            Rectangle(SKETCH51_W, SKETCH51_H)
    extrude(amount=-CUT_EXTRUDE25_DEPTH, mode=Mode.SUBTRACT)

    # Sketch52 → Cut-Extrude26 (cut, through all)
    with BuildSketch(Plane(origin=(0, 0, 6), x_dir=(-1, 0, 0), z_dir=(0, 0, -1))):
        with Locations((-223.5, 6.5)):
            Circle(SKETCH52_R)
        with Locations((-231.5, 6.5)):
            Circle(SKETCH52_R)
    extrude(amount=-CUT_EXTRUDE26_DEPTH, mode=Mode.SUBTRACT)

    # Fillet5
    fillet5_edges = [part.edges().sort_by_distance(p)[0] for p in [
        (300, 4, 29),
        (300, 4, -9),
    ]]
    fillet(fillet5_edges, radius=FILLET5_R)

    # Sketch54 → Boss-Extrude26 (add)
    with BuildSketch(Plane(origin=(0, 8, 0), x_dir=(1, 0, 0), z_dir=(0, 1, 0))):
        with Locations((284, 2.25)):
            Rectangle(SKETCH54_W, SKETCH54_H)
        with Locations((284, -22.25)):
            Rectangle(SKETCH54_W, SKETCH54_H)
    extrude(amount=BOSS_EXTRUDE26_DEPTH)

    # Fillet6
    fillet6_edges = [part.edges().sort_by_distance(p)[0] for p in [
        (284, 8, 4.5),
        (284, 8, 15.5),
    ]]
    fillet(fillet6_edges, radius=FILLET6_R)

    # Sketch55 → Cut-Extrude27 (cut, through all)
    with BuildSketch(Plane(origin=(0, 0, -9), x_dir=(-1, 0, 0), z_dir=(0, 0, -1))):
        with Locations((-288, 10.5)):
            Circle(SKETCH55_R)
        with Locations((-281, 10.5)):
            Circle(SKETCH55_R)
    extrude(amount=-CUT_EXTRUDE27_DEPTH, mode=Mode.SUBTRACT)

    # Fillet7
    fillet7_edges = [part.edges().sort_by_distance(p)[0] for p in [
        (274.5, 16, -2.25),
        (293.5, 16, -2.25),
        (274.5, 16, 22.25),
        (293.5, 16, 22.25),
    ]]
    fillet(fillet7_edges, radius=FILLET7_R)

    # Fillet8
    fillet8_edges = [part.edges().sort_by_distance(p)[0] for p in [
        (293.5, 8, 0.25),
        (293.5, 8, 19.75),
    ]]
    fillet(fillet8_edges, radius=FILLET8_R)

    # Fillet9
    fillet9_edges = [part.edges().sort_by_distance(p)[0] for p in [
        (274.5, 8, 0.25),
        (274.5, 8, 19.75),
    ]]
    fillet(fillet9_edges, radius=FILLET9_R)

    # Sketch56 → Cut-Extrude28 (cut)
    with BuildSketch(Plane(origin=(0, 16, 0), x_dir=(1, 0, 0), z_dir=(0, 1, 0))):
        with Locations((281, -13)):
            Rectangle(SKETCH56_W, SKETCH56_H)
        with Locations((288, -13)):
            Rectangle(SKETCH56_W, SKETCH56_H)
        with Locations((281, -7)):
            Rectangle(SKETCH56_W, SKETCH56_H)
        with Locations((288, -7)):
            Rectangle(SKETCH56_W, SKETCH56_H)
    extrude(amount=-CUT_EXTRUDE28_DEPTH, mode=Mode.SUBTRACT)


solid = part.part
